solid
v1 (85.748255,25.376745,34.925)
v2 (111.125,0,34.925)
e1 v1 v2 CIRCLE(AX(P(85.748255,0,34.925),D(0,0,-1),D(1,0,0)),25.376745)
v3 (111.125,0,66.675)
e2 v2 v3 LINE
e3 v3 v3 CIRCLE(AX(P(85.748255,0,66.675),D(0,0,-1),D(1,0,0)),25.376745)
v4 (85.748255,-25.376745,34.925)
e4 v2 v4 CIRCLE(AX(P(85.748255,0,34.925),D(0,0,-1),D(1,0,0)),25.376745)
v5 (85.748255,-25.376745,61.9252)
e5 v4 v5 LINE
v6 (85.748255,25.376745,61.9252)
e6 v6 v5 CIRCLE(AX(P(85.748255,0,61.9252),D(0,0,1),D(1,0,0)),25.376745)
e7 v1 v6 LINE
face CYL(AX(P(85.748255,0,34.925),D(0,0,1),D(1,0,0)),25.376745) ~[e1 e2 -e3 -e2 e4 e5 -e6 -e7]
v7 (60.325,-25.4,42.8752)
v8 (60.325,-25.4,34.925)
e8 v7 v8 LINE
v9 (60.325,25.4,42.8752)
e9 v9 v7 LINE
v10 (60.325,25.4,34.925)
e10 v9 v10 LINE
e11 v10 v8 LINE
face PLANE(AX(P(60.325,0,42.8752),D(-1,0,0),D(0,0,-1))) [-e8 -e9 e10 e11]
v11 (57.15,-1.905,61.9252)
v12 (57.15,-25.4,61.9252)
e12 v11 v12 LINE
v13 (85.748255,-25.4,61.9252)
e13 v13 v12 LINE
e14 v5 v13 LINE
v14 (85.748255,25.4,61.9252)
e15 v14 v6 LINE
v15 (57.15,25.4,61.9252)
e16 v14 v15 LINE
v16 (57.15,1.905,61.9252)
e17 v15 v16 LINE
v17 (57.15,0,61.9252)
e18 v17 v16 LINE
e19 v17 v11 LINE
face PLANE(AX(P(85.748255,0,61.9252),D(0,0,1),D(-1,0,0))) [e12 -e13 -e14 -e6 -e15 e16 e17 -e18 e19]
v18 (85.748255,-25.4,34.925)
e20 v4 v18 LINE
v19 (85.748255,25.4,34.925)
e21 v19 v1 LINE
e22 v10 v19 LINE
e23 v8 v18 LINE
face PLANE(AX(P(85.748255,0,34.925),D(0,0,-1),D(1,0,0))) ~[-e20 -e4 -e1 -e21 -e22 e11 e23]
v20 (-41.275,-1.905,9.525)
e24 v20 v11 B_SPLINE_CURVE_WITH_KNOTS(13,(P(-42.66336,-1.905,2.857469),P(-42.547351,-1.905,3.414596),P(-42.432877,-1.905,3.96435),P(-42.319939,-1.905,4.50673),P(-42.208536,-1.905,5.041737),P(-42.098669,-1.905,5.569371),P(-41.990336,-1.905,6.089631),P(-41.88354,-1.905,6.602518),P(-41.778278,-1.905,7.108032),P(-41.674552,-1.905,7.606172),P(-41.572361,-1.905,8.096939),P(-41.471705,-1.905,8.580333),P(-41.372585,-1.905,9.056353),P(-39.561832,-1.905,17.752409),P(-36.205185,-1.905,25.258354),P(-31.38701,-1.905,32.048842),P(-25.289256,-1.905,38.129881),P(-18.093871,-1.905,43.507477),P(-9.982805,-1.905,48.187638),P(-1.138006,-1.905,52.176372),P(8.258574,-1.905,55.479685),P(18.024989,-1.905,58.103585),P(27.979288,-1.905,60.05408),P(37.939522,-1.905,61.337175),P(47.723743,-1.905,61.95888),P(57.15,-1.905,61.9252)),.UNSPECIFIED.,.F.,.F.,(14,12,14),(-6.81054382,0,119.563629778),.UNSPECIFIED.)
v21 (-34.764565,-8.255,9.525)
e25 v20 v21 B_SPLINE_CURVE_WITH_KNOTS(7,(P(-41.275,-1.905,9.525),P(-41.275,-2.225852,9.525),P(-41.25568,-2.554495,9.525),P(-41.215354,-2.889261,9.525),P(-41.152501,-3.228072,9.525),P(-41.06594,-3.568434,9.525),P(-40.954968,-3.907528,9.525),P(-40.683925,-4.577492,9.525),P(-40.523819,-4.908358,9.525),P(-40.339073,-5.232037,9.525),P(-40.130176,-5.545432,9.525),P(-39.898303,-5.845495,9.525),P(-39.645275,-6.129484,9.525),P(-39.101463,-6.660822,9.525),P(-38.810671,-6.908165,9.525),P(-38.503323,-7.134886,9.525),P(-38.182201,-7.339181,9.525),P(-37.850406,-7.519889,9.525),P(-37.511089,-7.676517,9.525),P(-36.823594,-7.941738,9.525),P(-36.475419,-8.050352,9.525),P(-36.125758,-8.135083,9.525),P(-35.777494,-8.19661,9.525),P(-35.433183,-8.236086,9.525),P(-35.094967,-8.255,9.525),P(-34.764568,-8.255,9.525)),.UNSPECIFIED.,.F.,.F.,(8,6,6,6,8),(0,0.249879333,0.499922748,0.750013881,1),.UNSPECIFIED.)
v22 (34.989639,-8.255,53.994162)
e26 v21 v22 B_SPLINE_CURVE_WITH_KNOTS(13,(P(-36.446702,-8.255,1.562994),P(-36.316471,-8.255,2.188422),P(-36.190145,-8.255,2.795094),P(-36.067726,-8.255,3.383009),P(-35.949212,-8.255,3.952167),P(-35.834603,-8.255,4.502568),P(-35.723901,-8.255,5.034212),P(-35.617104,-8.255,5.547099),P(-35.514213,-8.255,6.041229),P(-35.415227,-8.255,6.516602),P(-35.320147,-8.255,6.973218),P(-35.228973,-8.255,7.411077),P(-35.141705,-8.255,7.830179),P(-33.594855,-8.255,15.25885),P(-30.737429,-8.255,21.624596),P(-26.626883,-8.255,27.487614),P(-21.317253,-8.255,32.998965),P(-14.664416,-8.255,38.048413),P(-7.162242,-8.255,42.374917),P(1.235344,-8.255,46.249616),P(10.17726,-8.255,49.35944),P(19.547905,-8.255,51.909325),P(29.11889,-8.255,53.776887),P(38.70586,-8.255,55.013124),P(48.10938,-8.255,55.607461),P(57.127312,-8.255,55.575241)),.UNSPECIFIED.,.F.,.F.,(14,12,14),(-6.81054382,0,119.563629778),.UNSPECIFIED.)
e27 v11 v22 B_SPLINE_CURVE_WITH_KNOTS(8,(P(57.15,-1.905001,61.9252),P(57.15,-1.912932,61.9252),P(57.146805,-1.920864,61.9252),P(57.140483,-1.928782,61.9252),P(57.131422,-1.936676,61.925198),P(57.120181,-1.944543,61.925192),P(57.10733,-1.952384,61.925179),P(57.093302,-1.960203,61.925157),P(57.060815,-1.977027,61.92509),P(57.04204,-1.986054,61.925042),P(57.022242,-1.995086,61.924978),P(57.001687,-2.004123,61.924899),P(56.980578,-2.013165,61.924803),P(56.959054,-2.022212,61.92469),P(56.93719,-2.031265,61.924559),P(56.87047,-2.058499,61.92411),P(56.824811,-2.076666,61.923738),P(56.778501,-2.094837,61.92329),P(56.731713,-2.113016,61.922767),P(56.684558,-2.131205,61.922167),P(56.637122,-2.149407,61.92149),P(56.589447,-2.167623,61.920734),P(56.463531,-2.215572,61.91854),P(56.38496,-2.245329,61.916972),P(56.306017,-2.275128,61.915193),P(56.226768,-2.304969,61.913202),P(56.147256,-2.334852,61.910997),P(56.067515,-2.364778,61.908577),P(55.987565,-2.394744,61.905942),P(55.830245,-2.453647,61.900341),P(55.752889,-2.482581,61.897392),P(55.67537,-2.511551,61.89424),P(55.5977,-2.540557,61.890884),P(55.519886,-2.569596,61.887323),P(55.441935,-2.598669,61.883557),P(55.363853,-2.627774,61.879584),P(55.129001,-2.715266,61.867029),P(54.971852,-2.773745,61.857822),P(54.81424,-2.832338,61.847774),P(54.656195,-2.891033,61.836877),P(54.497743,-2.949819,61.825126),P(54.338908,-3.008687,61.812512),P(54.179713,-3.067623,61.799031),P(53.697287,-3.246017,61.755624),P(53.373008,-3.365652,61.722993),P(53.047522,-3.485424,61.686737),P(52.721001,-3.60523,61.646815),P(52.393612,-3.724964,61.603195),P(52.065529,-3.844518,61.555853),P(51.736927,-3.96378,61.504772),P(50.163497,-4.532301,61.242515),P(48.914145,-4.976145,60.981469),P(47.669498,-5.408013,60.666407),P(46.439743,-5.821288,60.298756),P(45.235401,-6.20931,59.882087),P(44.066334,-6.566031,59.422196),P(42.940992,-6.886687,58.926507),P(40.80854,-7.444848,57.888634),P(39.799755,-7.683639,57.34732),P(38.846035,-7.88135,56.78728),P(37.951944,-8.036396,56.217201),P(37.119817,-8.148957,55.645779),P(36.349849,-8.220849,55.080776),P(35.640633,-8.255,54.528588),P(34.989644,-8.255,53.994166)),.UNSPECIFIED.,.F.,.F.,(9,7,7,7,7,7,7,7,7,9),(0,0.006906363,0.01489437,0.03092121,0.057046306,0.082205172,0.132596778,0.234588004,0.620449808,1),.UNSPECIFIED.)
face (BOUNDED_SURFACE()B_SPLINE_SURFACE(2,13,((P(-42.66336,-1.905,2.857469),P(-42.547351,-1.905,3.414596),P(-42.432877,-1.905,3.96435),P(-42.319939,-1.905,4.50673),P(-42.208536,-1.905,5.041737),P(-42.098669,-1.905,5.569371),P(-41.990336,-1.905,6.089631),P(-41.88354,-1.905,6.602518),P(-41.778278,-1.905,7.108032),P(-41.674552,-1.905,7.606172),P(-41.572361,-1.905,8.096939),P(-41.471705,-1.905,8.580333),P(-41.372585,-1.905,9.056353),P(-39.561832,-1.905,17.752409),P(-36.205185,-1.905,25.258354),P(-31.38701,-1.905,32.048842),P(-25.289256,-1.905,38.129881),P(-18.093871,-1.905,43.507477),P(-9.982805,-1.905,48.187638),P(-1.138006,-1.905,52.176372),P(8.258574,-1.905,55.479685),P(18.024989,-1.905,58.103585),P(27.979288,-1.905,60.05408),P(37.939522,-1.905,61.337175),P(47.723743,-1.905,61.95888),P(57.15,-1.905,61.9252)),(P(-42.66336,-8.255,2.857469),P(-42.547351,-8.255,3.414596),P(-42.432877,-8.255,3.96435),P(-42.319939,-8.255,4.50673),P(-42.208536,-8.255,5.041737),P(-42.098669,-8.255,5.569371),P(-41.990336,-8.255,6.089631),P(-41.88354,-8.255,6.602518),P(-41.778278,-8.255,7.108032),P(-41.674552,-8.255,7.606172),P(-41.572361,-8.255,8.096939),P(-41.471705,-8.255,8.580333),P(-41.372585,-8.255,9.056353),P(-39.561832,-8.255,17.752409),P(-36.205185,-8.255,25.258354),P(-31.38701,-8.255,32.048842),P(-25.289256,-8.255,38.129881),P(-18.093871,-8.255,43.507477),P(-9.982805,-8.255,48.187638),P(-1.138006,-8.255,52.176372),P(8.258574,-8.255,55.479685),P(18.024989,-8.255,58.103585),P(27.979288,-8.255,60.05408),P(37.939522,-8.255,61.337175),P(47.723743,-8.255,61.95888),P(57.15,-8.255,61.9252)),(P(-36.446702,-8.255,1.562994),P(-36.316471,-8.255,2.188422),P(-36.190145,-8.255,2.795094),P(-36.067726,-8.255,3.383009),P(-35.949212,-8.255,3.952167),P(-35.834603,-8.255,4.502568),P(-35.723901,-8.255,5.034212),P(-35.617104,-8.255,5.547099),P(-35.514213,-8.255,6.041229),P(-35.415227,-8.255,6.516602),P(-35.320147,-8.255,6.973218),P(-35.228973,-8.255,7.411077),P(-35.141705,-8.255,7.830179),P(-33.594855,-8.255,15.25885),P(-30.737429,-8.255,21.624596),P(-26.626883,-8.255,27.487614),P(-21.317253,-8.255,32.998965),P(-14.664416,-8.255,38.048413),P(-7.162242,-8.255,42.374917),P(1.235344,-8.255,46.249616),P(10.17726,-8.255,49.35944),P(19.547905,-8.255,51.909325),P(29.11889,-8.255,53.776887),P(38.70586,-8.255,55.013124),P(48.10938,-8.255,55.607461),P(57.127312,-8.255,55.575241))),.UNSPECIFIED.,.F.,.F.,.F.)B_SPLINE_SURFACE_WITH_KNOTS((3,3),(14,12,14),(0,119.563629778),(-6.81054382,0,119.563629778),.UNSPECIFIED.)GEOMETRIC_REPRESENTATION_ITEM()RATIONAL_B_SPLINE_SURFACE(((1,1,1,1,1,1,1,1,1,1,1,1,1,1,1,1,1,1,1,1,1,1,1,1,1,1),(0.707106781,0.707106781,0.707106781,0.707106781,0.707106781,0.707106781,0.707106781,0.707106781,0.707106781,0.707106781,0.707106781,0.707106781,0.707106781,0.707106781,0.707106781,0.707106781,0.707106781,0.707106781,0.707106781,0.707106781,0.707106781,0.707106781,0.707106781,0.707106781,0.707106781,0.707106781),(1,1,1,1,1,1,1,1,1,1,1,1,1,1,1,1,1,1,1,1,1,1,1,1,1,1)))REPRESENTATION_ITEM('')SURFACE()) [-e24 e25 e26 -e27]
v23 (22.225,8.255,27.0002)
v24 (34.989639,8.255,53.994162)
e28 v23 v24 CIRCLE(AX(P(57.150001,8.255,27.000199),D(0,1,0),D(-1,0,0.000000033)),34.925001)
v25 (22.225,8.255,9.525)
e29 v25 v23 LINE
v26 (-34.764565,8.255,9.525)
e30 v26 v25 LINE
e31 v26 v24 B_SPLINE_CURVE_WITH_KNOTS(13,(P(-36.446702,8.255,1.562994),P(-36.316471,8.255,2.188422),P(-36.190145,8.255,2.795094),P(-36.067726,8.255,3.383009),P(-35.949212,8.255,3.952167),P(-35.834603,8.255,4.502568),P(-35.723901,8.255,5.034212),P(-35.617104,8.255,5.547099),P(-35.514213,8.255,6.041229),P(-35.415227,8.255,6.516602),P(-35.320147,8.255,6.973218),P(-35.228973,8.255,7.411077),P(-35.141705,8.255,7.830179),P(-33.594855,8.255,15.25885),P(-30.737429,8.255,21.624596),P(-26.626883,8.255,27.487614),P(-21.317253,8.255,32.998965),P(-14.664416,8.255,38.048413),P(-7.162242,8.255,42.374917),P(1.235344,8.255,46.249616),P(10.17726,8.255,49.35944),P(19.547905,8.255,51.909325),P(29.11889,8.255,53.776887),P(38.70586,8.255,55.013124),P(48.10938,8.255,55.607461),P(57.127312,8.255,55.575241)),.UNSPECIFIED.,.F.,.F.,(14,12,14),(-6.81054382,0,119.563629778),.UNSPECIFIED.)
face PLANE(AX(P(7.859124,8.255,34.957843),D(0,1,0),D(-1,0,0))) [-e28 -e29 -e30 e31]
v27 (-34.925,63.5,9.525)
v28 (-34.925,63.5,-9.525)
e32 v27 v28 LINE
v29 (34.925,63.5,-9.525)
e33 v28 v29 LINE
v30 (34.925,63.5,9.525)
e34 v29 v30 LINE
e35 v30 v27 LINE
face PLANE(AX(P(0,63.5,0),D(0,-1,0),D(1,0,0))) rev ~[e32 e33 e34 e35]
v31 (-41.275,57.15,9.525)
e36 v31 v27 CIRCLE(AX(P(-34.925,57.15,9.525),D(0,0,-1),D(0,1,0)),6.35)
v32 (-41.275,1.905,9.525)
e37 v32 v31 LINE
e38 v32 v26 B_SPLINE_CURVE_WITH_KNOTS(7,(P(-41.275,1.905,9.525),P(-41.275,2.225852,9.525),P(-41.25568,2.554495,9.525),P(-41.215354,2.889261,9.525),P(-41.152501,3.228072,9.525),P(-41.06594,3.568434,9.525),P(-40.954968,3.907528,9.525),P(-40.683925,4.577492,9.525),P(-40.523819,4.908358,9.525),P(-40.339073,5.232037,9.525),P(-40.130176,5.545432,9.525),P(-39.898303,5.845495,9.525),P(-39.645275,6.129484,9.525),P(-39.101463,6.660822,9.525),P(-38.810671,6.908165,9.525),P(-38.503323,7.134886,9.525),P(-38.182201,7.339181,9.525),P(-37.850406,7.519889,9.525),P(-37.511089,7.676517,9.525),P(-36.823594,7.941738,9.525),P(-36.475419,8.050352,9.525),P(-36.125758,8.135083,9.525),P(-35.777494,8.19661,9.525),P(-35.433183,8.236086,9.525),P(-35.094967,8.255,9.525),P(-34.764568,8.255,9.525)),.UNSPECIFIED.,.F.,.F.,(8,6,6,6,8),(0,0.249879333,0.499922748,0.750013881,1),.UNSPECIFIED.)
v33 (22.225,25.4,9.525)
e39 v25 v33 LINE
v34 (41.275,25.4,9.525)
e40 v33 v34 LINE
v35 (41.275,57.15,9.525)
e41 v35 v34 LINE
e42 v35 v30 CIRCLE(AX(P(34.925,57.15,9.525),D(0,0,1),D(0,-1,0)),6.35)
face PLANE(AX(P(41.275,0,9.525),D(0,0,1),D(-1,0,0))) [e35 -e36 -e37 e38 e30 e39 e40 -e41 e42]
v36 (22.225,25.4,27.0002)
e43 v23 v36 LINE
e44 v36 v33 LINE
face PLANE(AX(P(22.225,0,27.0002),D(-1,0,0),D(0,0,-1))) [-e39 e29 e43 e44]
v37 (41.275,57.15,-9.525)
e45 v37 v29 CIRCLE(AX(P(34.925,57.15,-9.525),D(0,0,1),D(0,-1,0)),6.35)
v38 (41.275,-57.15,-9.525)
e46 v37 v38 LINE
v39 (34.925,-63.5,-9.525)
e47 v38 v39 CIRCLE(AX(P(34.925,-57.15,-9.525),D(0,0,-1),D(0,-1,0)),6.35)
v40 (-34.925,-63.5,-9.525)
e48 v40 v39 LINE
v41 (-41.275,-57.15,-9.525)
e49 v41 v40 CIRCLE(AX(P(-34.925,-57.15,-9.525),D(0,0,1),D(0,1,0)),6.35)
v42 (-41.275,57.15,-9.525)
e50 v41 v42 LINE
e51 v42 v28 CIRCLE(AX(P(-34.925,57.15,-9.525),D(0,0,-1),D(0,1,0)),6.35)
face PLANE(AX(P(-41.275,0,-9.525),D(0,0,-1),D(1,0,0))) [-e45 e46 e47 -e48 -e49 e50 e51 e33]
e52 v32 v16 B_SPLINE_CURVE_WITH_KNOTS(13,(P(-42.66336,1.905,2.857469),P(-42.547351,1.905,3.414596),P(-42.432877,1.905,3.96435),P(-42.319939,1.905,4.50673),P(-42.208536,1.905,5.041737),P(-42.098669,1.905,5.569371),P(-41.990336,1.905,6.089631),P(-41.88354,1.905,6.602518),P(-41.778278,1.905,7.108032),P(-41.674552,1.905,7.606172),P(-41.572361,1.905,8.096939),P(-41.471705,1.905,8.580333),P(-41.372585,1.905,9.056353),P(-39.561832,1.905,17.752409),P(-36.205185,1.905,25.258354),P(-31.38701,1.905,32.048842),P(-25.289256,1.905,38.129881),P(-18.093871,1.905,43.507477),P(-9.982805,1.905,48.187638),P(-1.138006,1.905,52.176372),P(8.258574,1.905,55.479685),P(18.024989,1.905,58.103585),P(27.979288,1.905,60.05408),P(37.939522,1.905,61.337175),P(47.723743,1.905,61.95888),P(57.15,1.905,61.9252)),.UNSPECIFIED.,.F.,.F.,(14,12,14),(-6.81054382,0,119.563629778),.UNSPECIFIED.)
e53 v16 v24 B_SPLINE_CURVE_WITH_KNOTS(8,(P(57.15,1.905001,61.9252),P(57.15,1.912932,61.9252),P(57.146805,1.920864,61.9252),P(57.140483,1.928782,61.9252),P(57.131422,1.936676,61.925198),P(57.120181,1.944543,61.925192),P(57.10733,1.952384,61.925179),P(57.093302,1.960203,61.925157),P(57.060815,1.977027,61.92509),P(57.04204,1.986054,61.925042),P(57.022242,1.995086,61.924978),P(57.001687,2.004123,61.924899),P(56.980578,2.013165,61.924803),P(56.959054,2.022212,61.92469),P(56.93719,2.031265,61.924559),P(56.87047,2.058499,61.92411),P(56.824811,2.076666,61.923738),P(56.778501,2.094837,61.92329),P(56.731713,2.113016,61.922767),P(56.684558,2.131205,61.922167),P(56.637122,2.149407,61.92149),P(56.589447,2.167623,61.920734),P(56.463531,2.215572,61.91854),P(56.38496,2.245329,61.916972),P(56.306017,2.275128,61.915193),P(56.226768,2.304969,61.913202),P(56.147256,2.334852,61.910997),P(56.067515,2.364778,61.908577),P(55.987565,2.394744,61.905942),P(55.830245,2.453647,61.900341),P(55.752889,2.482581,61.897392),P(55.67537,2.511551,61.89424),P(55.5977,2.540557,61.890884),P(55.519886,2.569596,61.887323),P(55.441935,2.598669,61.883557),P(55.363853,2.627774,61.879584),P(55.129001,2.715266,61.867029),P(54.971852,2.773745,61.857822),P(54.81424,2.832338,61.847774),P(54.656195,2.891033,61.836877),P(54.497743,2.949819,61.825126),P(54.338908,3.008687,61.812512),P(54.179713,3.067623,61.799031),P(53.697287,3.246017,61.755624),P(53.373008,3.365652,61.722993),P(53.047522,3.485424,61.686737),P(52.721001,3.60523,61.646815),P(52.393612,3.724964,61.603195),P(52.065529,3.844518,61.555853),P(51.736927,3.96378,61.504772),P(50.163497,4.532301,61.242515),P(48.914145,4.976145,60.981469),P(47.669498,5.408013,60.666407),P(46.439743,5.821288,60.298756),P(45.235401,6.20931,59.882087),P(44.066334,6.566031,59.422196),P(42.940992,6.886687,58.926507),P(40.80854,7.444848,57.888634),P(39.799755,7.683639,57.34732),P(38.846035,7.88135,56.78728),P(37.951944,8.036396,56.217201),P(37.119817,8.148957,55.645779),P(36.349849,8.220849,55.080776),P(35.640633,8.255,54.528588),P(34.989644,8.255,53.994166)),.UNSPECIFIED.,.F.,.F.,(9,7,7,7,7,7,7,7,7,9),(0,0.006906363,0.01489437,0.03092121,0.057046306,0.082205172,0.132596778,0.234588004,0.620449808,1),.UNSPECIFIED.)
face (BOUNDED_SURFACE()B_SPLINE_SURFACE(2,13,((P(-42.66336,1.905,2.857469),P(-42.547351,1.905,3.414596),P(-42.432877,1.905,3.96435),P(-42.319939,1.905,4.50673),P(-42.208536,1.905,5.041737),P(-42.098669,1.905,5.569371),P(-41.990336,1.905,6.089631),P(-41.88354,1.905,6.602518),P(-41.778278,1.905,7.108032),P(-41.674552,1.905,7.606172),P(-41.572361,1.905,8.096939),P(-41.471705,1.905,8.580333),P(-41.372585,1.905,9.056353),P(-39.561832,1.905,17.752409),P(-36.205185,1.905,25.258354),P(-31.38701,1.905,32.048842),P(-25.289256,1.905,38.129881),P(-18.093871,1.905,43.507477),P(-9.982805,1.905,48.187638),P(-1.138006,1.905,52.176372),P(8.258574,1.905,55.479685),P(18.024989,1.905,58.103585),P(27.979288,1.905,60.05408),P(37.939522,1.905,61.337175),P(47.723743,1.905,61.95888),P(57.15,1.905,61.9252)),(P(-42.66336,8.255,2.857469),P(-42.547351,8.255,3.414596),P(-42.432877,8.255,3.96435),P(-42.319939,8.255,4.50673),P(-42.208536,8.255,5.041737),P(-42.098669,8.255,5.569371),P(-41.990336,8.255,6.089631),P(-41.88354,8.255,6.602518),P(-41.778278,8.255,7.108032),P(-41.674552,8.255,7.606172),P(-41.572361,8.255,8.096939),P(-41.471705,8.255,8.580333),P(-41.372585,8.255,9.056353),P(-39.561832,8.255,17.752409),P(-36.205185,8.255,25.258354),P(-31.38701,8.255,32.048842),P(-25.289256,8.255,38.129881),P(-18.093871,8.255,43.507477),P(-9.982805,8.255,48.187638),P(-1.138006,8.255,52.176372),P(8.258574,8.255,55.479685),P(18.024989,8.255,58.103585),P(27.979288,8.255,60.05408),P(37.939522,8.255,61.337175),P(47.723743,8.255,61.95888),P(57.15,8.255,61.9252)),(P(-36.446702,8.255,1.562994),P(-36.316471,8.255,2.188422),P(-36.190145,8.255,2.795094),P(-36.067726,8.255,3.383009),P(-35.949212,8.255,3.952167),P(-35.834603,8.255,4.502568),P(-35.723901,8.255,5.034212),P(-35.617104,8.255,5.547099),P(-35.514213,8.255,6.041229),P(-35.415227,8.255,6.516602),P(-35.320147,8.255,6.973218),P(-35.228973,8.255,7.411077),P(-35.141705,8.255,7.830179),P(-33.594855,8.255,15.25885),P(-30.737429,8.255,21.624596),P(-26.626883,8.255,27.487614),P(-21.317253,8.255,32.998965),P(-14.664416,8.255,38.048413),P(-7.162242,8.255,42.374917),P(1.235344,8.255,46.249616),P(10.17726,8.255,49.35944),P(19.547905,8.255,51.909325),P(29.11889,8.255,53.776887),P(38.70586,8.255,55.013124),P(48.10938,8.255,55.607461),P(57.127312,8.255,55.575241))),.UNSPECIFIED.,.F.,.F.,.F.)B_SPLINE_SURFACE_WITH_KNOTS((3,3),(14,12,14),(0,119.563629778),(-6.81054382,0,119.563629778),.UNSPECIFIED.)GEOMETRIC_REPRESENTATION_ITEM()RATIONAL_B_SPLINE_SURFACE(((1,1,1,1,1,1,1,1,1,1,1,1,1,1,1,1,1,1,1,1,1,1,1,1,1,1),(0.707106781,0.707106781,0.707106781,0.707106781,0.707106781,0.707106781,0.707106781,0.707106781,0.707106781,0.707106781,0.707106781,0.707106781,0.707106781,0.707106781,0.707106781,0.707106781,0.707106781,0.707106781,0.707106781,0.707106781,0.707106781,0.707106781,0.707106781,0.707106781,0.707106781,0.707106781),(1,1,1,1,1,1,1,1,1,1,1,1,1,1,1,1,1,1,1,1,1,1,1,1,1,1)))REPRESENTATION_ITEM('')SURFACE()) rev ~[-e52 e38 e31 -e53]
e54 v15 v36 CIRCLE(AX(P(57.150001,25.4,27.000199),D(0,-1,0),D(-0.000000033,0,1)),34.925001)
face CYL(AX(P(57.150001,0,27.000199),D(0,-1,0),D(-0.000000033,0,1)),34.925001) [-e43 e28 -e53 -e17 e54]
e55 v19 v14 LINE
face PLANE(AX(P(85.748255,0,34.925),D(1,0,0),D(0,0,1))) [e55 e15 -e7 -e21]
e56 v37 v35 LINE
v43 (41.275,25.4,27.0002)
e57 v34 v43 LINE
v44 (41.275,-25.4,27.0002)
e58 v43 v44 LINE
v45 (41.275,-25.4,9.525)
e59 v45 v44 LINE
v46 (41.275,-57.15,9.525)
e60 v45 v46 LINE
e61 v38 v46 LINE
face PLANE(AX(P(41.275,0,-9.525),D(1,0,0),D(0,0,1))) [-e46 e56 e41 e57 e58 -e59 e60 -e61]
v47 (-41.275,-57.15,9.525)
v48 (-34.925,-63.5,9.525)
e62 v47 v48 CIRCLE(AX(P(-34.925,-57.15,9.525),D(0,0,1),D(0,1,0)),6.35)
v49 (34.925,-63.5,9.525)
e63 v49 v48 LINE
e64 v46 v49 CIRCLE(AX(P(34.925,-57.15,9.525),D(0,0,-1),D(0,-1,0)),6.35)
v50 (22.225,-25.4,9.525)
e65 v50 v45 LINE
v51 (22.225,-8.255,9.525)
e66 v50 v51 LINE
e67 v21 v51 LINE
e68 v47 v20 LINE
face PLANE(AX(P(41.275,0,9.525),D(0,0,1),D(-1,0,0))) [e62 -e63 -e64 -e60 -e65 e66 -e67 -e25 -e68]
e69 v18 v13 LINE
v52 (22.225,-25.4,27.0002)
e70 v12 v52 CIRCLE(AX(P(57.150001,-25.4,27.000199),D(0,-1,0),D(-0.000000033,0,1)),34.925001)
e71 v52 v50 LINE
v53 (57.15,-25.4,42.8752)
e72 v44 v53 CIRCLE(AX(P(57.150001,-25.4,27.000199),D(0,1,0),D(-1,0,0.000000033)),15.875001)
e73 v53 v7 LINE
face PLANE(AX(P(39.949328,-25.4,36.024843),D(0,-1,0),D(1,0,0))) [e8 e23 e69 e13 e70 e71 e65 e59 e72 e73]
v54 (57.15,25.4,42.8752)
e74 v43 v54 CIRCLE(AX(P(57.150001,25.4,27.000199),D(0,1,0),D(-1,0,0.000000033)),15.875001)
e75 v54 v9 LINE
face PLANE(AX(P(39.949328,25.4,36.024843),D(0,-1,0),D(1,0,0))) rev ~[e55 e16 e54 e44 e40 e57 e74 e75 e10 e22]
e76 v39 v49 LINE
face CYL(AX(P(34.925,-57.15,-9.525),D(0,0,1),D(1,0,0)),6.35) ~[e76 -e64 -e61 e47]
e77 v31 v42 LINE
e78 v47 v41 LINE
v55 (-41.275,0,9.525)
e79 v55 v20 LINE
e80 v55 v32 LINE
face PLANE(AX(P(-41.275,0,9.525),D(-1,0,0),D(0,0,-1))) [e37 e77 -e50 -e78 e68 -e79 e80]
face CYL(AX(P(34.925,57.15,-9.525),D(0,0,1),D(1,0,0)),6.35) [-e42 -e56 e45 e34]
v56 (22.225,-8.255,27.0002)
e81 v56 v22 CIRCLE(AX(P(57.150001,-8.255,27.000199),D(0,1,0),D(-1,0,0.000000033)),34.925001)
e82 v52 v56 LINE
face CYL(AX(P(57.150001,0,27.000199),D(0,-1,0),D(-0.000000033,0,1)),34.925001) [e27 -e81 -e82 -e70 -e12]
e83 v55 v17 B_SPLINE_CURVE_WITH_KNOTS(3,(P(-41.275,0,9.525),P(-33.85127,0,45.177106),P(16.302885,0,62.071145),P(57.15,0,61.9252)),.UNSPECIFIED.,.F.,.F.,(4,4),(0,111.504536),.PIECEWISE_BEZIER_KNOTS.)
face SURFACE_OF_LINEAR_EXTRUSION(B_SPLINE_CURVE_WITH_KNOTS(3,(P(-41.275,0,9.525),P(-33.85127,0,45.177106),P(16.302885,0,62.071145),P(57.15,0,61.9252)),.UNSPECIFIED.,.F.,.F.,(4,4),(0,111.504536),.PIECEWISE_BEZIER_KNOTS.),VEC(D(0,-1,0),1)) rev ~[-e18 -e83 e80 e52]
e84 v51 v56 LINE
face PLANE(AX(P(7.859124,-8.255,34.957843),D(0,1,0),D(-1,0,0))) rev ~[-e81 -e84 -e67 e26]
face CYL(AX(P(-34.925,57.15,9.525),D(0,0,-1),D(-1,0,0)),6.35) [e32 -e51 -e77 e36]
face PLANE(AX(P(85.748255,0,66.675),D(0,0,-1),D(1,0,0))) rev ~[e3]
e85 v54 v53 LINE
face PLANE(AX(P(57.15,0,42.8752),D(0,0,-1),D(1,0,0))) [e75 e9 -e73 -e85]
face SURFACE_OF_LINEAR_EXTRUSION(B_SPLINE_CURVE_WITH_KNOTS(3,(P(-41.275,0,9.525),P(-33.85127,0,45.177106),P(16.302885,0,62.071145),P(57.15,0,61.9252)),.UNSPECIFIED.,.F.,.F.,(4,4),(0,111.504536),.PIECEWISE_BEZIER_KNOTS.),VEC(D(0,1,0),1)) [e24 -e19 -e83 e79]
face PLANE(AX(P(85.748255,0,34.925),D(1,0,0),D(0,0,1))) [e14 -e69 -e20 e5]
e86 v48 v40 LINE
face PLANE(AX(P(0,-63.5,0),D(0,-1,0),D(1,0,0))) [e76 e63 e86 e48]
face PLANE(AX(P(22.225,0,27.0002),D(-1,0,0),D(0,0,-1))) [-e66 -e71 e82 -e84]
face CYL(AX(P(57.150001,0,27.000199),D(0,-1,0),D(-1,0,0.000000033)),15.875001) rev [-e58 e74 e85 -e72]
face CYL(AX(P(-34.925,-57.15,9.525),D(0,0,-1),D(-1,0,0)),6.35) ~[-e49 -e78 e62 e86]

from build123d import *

# Parameters (mm, degrees)
F1_DEPTH = 63.5
F2_DEPTH = 25.4
F3_DEPTH = 8.255
F5_R     = 6.35


with BuildPart() as f1:
    # F0 (on Front) → F1 (new body, symmetric)
    with BuildSketch(Plane.XZ):
        Polygon((-41.275, -9.525), (41.275, -9.525), (41.275, 9.525), (22.225, 9.525), (-41.275, 9.525), align=None)
    extrude(amount=F1_DEPTH, both=True)

    # F0 (on Front) → F2 (join, symmetric)
    with BuildSketch(Plane.XZ):
        with BuildLine():
            Line((22.225, 9.525), (41.275, 9.525))
            Line((41.275, 9.525), (41.275, 27.0002))
            ThreePointArc((41.275, 27.0002), (45.92468, 38.22552), (57.15, 42.8752))
            Line((57.15, 42.8752), (60.325, 42.8752))
            Line((60.325, 42.8752), (60.325, 61.9252))
            Line((60.325, 61.9252), (57.15, 61.9252))
            ThreePointArc((57.15, 61.9252), (32.454296, 51.695904), (22.225, 27.0002))
            Line((22.225, 27.0002), (22.225, 9.525))
        make_face()
        Polygon((85.748255, 61.9252), (60.325, 61.9252), (60.325, 42.8752), (60.325, 34.925), (85.748255, 34.925), align=None)
    extrude(amount=F2_DEPTH, both=True)

    # F0 (on Front) → F3 (join, symmetric)
    with BuildSketch(Plane.XZ):
        with BuildLine():
            add(Edge.make_bspline(
                [(-41.275, 9.525), (-33.85127, 45.177106), (16.302885, 62.071145), (57.15, 61.9252)],
                knots=[0, 0, 0, 0, 111.504536, 111.504536, 111.504536, 111.504536], degree=3))
            Line((-41.275, 9.525), (22.225, 9.525))
            Line((22.225, 9.525), (22.225, 27.0002))
            ThreePointArc((22.225, 27.0002), (32.454296, 51.695904), (57.15, 61.9252))
        make_face()
    extrude(amount=F3_DEPTH, both=True)

    # F0 (on Front) → F4 (revolve)
    with BuildSketch(Plane.XZ):
        Polygon((85.748255, 66.675), (85.748255, 61.9252), (85.748255, 34.925), (111.125, 34.925), (111.125, 66.675), align=None)
    revolve(axis=Axis((85.748255, 0, 50.8), (0, 0, -1)))

    # F5
    f5_edges = [f1.edges().sort_by_distance(p)[0] for p in [
        (-41.275, -63.5, 0),
        (41.275, -63.5, 0),
        (41.275, 63.5, 0),
        (-41.275, 63.5, 0),
        (-1.167948, 8.255, 50.677931),
        (-1.167948, -8.255, 50.677931),
    ]]
    fillet(f5_edges, radius=F5_R)


solid = f1.part
